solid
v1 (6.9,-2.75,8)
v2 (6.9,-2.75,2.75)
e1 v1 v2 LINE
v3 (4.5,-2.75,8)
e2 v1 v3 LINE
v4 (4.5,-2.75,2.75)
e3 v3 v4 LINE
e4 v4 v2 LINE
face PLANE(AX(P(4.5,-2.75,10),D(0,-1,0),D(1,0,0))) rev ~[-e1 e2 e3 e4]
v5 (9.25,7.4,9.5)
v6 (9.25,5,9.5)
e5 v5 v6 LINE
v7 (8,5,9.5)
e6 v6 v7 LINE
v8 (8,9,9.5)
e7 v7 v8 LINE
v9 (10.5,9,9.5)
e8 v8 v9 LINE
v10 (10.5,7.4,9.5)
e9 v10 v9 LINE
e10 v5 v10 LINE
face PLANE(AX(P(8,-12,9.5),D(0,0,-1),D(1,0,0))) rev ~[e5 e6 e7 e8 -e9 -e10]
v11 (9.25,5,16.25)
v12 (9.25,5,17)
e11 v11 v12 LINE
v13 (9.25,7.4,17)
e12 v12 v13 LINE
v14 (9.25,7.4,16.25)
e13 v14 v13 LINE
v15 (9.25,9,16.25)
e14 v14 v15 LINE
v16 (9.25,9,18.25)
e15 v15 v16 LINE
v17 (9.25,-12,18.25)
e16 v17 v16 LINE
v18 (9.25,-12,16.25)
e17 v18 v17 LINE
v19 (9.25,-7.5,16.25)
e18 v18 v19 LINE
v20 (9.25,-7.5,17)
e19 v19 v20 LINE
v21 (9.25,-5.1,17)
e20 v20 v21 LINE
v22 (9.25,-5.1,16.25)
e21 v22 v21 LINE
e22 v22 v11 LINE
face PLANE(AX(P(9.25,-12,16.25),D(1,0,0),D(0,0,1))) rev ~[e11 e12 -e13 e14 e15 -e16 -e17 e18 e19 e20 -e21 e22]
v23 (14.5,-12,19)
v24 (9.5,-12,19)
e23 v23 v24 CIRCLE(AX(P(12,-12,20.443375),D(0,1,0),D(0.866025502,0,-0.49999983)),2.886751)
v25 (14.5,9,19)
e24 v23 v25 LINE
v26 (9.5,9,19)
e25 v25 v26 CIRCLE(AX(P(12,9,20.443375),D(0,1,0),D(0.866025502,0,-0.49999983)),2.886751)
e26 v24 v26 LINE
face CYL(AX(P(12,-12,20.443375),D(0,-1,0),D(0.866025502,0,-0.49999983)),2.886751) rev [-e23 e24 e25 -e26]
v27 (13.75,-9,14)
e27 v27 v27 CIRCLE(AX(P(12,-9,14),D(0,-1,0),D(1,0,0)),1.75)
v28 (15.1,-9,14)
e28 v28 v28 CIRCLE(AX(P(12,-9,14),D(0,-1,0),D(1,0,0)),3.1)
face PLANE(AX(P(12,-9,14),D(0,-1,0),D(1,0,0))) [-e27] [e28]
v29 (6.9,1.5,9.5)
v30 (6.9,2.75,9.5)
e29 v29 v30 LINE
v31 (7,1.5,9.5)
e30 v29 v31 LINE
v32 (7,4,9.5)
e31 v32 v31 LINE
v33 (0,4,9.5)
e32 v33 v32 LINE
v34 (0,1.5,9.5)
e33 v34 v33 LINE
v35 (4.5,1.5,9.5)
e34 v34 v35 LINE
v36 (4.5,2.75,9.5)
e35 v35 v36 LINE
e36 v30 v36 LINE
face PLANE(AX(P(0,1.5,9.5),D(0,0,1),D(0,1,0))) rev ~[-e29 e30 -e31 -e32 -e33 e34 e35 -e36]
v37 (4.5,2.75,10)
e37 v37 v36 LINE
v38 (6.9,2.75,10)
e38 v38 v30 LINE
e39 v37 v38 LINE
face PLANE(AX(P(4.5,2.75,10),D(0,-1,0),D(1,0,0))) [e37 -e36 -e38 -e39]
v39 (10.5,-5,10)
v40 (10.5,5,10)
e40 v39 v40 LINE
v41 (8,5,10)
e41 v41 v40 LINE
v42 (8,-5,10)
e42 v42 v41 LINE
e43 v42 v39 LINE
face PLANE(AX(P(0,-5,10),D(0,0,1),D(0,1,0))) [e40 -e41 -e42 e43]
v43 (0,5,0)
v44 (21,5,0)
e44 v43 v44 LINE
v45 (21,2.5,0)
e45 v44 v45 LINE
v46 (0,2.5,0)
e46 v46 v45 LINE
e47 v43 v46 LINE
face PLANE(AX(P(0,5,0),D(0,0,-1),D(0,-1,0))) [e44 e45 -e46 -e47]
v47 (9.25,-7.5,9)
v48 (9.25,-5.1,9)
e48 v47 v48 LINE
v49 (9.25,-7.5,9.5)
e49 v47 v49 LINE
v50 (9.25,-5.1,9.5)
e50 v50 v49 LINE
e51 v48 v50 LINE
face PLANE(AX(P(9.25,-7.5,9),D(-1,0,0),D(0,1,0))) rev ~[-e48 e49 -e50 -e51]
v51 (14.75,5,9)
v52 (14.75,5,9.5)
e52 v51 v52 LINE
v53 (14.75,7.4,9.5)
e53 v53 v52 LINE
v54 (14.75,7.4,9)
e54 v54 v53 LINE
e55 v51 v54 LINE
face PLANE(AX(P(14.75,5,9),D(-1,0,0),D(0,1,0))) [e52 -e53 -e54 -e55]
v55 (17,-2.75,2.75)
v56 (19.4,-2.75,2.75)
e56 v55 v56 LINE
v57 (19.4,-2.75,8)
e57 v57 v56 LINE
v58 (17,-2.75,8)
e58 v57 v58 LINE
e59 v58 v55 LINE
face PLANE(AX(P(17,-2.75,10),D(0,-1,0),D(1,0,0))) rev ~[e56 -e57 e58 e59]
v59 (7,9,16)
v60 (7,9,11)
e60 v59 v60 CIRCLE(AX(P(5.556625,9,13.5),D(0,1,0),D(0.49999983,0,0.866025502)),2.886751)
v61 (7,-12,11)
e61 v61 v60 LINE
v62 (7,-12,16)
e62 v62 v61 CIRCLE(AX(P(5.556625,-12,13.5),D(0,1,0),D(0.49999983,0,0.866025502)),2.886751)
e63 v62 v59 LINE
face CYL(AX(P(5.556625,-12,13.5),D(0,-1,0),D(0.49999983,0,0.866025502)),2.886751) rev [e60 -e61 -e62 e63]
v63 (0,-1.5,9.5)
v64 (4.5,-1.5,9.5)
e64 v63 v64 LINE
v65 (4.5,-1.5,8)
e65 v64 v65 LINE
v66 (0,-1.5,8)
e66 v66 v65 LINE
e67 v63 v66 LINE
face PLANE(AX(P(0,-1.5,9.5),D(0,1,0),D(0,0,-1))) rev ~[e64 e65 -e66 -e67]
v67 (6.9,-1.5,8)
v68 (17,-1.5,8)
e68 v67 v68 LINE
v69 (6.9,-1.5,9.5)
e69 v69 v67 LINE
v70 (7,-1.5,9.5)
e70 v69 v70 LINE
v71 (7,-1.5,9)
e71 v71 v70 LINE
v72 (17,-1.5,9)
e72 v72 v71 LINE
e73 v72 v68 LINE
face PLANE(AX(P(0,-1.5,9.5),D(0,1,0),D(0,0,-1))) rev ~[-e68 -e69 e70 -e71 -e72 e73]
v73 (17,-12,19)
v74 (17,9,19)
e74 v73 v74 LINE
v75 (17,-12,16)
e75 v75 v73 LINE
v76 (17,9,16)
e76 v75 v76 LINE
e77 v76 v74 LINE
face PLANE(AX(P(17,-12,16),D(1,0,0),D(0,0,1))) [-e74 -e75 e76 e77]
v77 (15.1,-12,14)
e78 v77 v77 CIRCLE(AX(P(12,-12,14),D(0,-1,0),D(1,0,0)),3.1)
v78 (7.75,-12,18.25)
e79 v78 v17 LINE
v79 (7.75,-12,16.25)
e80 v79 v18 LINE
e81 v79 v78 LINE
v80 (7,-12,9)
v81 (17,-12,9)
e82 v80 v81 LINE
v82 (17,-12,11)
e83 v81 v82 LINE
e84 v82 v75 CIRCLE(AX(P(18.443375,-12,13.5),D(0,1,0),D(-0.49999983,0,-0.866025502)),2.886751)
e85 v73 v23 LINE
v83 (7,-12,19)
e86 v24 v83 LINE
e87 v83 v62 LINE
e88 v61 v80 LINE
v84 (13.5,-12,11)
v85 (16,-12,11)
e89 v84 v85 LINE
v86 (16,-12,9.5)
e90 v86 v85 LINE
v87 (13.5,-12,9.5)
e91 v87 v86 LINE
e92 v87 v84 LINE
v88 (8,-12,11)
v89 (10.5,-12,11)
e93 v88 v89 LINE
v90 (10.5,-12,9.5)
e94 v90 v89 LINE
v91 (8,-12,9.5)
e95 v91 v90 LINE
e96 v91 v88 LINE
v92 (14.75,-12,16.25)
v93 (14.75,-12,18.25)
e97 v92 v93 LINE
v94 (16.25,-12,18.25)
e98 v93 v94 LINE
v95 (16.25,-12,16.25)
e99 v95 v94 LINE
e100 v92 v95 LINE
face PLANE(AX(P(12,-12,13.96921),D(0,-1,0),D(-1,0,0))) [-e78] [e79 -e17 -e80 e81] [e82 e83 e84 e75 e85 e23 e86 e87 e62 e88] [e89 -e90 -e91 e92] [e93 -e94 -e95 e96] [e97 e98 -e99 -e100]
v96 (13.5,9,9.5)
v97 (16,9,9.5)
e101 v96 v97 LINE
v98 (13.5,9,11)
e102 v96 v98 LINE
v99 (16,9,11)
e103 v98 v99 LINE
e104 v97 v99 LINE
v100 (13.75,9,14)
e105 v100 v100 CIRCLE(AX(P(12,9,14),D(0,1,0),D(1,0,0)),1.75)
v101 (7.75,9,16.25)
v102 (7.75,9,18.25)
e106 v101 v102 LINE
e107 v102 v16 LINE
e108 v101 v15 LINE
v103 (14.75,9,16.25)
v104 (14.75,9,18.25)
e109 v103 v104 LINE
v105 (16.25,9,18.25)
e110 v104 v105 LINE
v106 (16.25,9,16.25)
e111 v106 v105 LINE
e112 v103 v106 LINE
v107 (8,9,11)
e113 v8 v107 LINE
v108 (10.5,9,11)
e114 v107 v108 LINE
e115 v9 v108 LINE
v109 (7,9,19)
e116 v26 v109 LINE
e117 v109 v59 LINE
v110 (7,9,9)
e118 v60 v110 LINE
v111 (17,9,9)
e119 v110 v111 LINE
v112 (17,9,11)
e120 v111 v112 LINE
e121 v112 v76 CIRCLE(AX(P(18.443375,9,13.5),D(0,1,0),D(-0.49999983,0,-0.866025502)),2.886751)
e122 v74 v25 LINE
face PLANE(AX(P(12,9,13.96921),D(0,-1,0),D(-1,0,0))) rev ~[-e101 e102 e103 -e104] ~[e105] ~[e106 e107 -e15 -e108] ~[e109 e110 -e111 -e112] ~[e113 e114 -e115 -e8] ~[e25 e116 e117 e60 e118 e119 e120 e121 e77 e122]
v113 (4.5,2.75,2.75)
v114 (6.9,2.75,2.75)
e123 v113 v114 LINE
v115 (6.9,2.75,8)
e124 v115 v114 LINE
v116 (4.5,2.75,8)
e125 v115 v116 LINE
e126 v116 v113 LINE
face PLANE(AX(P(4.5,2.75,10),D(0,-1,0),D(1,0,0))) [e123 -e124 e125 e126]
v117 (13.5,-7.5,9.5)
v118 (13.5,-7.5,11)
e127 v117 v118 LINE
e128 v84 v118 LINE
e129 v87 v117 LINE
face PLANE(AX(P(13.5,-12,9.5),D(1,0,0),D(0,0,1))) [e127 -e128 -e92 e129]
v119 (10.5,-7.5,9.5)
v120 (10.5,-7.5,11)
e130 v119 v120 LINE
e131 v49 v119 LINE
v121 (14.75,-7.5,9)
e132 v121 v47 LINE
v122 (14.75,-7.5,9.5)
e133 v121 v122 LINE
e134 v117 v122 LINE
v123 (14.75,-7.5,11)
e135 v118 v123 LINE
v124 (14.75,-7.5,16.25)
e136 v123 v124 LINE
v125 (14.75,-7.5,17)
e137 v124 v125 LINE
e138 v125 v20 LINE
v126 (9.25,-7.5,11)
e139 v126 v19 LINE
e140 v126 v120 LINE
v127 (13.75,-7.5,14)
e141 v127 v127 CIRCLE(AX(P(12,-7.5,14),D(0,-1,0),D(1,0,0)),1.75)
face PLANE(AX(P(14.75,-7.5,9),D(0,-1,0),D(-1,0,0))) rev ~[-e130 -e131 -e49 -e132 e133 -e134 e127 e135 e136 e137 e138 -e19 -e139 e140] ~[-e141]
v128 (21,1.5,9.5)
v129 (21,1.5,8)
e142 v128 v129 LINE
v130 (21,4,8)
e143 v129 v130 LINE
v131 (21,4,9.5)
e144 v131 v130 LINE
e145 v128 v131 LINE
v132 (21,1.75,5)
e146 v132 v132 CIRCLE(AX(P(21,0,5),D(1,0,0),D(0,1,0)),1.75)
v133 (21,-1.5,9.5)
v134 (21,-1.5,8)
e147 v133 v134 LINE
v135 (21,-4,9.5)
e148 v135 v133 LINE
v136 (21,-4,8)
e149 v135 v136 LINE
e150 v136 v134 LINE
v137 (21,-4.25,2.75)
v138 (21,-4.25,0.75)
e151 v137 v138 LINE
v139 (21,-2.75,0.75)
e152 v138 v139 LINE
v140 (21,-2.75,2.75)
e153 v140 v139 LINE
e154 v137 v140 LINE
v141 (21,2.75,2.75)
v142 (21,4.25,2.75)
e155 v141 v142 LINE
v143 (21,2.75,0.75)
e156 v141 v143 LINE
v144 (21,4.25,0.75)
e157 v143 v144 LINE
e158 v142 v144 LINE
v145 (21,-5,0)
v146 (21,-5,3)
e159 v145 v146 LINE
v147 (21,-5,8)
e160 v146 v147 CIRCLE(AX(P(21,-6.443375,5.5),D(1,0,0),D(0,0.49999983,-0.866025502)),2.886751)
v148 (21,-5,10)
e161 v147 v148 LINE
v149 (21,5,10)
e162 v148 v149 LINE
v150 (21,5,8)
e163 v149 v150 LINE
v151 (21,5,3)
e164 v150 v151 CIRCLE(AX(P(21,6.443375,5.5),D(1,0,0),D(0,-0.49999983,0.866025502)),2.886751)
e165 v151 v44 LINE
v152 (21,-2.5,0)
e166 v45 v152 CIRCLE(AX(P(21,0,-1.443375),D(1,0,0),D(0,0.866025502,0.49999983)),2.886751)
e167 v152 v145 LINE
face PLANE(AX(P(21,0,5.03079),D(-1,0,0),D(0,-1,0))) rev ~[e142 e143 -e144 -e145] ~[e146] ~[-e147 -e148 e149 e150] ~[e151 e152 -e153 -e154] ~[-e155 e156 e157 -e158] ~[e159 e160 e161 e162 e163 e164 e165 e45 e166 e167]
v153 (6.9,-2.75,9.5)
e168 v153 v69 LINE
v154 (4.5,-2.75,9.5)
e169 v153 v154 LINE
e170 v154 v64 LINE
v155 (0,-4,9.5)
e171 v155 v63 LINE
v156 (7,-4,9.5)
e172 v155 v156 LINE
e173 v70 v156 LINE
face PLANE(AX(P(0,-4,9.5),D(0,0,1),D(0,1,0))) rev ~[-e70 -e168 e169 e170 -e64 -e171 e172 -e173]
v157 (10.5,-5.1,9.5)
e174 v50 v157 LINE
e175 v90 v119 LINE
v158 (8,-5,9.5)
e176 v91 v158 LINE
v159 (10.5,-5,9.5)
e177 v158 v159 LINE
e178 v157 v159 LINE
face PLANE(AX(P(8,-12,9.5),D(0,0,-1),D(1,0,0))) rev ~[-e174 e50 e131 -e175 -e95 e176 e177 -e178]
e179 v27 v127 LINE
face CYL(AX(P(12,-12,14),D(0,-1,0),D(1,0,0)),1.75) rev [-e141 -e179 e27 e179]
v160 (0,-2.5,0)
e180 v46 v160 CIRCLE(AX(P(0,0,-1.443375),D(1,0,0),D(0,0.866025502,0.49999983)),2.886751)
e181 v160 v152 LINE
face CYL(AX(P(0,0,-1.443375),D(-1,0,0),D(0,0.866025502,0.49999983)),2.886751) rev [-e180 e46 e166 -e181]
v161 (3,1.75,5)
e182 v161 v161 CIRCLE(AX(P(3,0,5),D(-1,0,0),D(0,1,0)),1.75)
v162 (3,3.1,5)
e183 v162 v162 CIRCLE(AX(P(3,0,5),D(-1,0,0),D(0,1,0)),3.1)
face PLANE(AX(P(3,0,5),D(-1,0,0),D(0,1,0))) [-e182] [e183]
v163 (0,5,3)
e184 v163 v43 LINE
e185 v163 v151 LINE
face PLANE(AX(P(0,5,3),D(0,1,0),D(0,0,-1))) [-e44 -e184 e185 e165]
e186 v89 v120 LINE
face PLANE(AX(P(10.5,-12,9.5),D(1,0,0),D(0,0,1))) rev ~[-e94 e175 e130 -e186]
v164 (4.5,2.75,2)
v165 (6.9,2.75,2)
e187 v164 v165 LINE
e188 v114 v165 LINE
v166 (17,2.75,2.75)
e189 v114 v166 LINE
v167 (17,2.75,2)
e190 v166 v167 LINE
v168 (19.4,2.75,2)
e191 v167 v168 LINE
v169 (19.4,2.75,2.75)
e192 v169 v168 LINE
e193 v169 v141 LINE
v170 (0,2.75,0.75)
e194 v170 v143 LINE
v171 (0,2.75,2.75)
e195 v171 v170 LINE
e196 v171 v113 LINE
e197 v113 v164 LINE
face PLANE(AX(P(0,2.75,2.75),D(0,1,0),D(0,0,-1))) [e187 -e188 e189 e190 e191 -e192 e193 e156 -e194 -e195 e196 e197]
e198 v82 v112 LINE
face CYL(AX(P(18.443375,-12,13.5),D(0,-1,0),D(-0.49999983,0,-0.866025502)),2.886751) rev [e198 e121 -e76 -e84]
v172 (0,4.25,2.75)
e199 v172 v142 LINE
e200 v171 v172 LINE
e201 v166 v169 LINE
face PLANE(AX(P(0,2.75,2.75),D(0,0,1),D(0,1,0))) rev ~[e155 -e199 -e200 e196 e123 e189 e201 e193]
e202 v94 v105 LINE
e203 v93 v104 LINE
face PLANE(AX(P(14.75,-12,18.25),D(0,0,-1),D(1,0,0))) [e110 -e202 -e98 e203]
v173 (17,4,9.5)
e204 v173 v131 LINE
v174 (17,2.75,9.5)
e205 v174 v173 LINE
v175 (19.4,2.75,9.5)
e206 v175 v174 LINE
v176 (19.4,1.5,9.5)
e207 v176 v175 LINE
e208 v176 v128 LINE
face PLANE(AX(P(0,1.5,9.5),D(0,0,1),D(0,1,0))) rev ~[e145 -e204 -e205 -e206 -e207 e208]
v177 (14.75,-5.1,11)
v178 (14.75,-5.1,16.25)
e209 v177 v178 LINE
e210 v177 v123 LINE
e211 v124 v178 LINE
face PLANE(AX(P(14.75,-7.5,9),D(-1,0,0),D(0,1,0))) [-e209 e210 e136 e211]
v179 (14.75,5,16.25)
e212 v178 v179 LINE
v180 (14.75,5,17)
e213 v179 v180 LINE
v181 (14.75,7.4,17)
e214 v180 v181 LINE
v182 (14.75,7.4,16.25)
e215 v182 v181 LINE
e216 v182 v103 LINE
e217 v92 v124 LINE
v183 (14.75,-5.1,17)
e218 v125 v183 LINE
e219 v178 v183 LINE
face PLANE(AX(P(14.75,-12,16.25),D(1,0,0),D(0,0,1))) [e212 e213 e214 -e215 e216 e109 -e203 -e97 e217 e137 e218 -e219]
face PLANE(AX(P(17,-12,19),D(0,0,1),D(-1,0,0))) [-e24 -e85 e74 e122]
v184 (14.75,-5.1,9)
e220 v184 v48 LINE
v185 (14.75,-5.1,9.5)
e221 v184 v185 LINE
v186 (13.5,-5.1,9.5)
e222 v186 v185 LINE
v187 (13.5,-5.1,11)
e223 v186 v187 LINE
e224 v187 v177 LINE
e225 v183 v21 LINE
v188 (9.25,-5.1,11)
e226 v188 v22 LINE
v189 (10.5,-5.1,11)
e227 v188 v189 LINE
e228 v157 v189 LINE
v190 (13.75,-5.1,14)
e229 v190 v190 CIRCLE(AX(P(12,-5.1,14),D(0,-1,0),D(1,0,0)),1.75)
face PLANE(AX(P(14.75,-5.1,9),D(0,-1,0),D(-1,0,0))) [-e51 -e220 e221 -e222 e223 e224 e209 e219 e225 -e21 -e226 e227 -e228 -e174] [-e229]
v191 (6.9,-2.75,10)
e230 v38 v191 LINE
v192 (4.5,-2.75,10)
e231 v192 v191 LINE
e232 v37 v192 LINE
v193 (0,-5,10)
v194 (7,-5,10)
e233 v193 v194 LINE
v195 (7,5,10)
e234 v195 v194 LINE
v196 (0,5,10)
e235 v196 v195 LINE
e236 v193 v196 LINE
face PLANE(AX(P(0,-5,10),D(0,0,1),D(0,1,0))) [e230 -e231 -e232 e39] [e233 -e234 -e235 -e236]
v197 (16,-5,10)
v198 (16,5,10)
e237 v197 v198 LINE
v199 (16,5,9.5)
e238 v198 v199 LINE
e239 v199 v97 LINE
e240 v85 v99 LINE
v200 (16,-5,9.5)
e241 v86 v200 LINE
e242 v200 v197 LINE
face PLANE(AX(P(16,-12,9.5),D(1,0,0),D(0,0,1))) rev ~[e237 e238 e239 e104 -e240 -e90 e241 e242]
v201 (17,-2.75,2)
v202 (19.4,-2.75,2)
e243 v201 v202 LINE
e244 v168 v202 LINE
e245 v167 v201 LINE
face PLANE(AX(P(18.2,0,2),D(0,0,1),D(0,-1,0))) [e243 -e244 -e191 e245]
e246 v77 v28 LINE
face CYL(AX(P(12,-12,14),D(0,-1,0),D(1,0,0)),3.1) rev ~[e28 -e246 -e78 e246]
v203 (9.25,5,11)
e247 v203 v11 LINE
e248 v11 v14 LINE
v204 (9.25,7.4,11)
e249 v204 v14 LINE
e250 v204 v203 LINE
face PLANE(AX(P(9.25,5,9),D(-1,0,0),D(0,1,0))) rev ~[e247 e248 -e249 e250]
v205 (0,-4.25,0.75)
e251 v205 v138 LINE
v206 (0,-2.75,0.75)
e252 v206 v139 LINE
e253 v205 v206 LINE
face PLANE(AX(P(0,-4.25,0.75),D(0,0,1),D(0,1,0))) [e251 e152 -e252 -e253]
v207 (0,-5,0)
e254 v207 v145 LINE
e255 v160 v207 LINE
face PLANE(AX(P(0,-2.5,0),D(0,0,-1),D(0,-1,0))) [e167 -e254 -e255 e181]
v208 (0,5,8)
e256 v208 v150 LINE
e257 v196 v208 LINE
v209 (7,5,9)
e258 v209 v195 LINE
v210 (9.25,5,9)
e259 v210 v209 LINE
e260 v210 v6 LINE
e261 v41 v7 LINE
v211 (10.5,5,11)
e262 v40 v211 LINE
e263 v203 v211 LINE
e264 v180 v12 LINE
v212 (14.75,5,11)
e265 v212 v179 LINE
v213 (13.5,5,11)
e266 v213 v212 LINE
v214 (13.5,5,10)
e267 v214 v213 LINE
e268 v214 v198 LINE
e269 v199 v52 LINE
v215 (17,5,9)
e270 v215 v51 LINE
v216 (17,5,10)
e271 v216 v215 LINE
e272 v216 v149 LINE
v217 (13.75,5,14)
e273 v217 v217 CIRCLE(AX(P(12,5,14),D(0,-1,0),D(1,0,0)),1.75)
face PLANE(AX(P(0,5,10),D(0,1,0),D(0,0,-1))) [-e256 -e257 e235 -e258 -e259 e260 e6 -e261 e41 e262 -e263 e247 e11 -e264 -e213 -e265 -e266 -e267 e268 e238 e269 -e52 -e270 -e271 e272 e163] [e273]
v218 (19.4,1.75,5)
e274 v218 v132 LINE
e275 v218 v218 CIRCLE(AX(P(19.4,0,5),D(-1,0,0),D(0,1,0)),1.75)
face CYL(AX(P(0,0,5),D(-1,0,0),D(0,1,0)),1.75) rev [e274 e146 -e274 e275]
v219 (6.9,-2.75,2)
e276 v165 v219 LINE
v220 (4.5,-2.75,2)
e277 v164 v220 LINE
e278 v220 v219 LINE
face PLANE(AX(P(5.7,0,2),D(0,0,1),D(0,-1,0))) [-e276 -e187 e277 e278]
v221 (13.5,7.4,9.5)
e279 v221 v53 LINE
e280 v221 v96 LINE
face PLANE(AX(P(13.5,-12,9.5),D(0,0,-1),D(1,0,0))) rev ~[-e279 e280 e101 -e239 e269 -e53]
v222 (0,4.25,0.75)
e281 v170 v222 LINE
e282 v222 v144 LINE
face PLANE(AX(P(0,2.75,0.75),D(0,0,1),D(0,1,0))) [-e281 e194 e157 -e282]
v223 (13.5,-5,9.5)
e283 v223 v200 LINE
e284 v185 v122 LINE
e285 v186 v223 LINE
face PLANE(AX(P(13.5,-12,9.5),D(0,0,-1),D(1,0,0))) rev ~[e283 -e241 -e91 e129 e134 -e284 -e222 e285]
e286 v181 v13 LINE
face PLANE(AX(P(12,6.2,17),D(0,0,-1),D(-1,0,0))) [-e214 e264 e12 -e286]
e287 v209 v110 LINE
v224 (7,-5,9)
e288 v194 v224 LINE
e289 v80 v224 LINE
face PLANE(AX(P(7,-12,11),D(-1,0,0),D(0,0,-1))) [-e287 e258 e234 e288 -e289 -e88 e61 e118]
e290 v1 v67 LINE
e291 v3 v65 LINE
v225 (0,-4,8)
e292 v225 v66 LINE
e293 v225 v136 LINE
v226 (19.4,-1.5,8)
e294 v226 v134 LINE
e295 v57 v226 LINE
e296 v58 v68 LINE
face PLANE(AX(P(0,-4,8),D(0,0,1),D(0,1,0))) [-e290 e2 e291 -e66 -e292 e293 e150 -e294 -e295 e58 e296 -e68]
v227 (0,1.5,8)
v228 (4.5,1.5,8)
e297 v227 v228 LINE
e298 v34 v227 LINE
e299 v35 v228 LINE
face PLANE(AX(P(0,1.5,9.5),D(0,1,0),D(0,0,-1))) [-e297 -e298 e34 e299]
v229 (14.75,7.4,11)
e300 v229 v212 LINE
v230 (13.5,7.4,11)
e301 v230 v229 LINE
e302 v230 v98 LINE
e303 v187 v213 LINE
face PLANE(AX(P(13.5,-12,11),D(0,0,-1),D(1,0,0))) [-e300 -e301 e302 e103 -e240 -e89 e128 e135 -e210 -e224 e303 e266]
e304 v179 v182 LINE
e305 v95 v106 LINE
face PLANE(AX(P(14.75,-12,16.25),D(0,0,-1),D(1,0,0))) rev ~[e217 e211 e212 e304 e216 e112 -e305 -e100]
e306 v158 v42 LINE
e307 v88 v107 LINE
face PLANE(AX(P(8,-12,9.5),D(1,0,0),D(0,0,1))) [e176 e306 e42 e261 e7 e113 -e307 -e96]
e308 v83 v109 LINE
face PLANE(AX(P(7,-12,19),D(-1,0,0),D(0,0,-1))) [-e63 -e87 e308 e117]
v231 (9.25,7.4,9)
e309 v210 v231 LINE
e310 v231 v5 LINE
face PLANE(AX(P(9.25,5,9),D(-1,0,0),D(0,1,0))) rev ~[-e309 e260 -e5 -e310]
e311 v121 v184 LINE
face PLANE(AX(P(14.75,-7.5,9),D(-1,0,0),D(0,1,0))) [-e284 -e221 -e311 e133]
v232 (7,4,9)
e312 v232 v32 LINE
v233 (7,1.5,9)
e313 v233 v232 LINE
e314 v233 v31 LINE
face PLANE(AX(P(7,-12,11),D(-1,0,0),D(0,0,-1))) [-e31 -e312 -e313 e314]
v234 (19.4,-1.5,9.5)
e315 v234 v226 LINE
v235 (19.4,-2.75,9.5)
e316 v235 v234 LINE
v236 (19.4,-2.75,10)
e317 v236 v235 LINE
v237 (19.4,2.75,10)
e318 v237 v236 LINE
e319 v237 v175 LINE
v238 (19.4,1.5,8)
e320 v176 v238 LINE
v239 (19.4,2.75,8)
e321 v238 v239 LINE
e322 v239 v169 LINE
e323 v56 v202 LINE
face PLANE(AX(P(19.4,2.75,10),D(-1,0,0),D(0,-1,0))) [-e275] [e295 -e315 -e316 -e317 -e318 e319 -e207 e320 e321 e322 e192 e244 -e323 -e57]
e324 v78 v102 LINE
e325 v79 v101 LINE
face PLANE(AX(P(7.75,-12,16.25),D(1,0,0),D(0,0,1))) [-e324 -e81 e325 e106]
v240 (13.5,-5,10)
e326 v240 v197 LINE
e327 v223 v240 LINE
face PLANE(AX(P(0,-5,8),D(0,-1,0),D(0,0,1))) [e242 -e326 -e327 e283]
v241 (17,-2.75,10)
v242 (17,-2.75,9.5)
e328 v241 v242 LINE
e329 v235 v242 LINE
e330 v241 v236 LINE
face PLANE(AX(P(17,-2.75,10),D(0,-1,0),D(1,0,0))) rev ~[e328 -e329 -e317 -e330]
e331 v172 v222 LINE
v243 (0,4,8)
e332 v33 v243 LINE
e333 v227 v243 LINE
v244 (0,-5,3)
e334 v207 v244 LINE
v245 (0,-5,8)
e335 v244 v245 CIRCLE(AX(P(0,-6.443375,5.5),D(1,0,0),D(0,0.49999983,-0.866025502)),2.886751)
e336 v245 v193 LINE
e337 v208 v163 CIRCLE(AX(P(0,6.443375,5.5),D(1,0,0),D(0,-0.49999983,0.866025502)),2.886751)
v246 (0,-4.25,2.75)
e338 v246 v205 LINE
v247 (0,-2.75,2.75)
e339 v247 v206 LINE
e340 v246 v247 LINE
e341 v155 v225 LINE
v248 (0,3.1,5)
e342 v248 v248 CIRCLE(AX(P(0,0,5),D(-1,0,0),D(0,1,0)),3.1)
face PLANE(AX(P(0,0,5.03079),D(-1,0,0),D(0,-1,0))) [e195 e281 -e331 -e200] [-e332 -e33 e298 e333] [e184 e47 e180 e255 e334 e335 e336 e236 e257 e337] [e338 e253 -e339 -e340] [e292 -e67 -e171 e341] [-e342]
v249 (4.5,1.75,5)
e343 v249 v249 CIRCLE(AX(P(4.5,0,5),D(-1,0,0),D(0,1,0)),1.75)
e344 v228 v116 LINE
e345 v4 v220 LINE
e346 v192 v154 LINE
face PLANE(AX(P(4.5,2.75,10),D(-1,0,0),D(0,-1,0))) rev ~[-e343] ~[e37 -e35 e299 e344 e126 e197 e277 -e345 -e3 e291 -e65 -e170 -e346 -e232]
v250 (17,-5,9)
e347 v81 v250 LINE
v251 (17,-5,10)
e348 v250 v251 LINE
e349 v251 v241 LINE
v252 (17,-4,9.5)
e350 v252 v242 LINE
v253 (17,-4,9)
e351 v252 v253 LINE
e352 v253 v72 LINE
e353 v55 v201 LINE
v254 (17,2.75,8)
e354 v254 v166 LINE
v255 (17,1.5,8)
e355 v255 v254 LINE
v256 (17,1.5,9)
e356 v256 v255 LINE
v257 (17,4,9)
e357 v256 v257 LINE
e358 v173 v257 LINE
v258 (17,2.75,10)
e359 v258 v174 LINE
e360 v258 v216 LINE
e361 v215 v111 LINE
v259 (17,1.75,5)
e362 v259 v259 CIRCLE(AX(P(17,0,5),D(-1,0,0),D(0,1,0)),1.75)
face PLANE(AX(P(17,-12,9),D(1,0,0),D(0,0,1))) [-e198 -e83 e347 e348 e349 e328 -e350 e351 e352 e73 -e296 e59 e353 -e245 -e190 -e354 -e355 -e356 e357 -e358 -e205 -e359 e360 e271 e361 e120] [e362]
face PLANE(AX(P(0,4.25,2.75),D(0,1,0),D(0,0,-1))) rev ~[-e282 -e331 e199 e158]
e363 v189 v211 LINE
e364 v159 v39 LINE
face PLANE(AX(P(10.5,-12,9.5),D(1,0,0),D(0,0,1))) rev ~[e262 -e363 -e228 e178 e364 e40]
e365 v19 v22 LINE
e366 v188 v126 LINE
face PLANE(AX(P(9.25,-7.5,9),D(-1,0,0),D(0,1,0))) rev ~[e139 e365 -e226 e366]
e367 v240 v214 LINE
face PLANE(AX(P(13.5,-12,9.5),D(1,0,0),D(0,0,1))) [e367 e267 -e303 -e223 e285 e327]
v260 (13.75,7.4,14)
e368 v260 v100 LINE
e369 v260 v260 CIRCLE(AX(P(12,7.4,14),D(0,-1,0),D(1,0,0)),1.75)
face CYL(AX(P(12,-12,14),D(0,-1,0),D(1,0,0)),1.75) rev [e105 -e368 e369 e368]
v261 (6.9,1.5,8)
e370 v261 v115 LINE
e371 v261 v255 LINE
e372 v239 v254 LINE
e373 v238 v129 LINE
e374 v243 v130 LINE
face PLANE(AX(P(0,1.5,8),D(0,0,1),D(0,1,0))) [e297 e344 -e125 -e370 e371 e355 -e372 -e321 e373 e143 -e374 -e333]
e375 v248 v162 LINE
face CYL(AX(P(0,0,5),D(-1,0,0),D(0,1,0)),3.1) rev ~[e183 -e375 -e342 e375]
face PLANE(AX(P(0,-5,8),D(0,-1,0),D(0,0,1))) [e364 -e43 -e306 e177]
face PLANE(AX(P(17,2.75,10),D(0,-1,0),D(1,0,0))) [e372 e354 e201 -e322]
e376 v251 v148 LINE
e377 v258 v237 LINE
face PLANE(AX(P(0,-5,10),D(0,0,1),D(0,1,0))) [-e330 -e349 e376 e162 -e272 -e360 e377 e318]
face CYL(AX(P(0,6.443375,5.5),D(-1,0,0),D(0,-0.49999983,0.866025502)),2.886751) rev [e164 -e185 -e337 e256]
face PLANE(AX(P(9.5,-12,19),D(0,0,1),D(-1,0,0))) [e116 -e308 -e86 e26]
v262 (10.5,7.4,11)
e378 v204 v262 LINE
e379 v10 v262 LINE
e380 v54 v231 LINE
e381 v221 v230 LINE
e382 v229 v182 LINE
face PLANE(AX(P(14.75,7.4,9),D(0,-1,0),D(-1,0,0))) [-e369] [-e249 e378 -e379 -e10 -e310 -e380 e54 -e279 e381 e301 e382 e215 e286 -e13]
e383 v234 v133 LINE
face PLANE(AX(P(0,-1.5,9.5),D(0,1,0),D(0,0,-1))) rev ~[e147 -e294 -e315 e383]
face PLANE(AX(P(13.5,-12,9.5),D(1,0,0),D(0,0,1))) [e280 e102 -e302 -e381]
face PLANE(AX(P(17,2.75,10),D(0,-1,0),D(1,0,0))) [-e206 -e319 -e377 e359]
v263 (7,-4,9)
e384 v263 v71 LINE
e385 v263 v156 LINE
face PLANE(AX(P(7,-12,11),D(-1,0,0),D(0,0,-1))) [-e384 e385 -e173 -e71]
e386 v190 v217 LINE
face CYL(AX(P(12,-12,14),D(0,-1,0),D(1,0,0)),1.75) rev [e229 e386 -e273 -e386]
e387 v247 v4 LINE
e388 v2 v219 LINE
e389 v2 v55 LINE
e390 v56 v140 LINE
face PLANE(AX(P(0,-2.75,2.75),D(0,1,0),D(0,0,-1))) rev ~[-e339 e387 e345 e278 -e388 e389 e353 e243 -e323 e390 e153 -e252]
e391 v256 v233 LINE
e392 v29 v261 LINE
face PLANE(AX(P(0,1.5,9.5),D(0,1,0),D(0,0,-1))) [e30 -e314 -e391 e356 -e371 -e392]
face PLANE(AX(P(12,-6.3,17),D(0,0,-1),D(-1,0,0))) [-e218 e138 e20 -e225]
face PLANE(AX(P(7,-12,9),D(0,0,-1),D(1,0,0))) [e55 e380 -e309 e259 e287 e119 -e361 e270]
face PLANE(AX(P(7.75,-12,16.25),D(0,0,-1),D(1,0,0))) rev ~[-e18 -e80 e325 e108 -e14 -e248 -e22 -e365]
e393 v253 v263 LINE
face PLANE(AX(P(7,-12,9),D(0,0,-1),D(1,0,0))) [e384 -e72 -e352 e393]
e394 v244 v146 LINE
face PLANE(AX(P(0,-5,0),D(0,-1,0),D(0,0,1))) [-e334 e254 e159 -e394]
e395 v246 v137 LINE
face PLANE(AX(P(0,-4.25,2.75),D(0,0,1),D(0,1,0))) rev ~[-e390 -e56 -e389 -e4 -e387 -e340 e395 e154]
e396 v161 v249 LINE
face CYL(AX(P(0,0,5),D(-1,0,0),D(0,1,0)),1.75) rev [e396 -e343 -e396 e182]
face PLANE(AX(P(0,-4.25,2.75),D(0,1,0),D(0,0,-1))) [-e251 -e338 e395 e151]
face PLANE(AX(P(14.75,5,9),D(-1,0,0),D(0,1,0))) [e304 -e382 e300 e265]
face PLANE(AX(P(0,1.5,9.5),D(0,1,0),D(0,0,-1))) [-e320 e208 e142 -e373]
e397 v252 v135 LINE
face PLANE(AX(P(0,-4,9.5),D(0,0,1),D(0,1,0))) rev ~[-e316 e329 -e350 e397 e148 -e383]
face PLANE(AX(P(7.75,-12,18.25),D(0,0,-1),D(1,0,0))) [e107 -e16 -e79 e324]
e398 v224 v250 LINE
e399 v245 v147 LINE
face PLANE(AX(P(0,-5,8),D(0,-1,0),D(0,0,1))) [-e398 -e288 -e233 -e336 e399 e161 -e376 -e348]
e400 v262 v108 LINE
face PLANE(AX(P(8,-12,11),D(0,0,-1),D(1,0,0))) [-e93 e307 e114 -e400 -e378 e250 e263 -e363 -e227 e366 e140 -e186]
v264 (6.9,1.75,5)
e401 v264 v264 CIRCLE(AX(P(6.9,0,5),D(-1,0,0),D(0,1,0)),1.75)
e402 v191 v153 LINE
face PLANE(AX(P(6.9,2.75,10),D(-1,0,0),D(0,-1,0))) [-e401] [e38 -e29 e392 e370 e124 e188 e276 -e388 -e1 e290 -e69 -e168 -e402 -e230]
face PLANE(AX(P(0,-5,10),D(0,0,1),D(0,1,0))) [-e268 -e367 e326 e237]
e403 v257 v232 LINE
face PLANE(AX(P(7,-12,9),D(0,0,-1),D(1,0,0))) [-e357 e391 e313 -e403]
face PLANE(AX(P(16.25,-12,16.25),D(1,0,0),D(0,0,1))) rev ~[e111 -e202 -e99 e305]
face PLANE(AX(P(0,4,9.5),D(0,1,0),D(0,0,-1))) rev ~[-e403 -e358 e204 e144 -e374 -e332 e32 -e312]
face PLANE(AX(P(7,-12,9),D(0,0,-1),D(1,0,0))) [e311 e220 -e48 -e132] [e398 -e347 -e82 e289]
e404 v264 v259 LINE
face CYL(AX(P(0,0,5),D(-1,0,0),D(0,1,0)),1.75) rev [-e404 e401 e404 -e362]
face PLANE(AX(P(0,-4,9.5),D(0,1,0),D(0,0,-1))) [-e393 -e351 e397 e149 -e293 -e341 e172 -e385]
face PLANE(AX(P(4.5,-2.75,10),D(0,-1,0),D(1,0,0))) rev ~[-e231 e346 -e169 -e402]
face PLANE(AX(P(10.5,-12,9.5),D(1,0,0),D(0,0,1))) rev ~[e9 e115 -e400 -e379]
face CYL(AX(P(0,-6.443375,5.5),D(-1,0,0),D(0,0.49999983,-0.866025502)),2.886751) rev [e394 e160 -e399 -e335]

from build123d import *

# Parameters (mm, degrees)
SKETCH008_R             = 1.75
PAD001_DEPTH            = 21
SKETCH009_W             = 5.5
SKETCH009_H             = 2.4
POCKET003_DEPTH         = 8
SKETCH010_R             = 3.1
POCKET004_DEPTH         = 3
SKETCH014_W             = 1.5
SKETCH014_H             = 2
SKETCH014_W_2           = 2.5
SKETCH014_H_2           = 1.5
POCKET005_DEPTH         = 21.001
BODY002_ROLL_ANGLE      = 180
BODY002_PLACEMENT_ANGLE = 90
SKETCH_R                = 1.75
PAD_DEPTH               = 21
SKETCH002_W             = 5.5
SKETCH002_H             = 2.4
POCKET_DEPTH            = 8
SKETCH003_R             = 3.1
POCKET001_DEPTH         = 3
SKETCH007_W             = 1.5
SKETCH007_H             = 2
SKETCH007_W_2           = 2.5
SKETCH007_H_2           = 1.5
POCKET002_DEPTH         = 21.001


with BuildPart() as body002:
    # Sketch008 → Pad001 (new body)
    with BuildSketch(Plane.YZ):
        with BuildLine():
            Line((-5, 8), (-5, 10))
            Line((-5, 10), (5, 10))
            Line((5, 10), (5, 8))
            ThreePointArc((5, 8), (3.556624, 5.5), (5, 3))
            Line((5, 3), (5, 0))
            Line((5, 0), (2.5, 0))
            ThreePointArc((2.5, 0), (0, 1.443376), (-2.5, 0))
            Line((-2.5, 0), (-5, 0))
            Line((-5, 0), (-5, 3))
            ThreePointArc((-5, 3), (-3.556624, 5.5), (-5, 8))
        make_face()
        with Locations((0, 5)):
            Circle(SKETCH008_R, mode=Mode.SUBTRACT)
    extrude(amount=PAD001_DEPTH)

    # Sketch009 → Pocket003 (cut)
    with BuildSketch(Plane(origin=(0, 0, 10), x_dir=(0, -1, 0), z_dir=(0, 0, 1))):
        with Locations((0, 5.7)):
            Rectangle(SKETCH009_W, SKETCH009_H)
        with Locations((0, 18.2)):
            Rectangle(SKETCH009_W, SKETCH009_H)
    extrude(amount=-POCKET003_DEPTH, mode=Mode.SUBTRACT)

    # Sketch010 (on Face4 of Pocket003) → Pocket004 (cut)
    with BuildSketch(Plane(origin=(0, 0, 0), x_dir=(0, 1, 0), z_dir=(-1, 0, 0))):
        with Locations((0, -5)):
            Circle(SKETCH010_R)
    extrude(amount=-POCKET004_DEPTH, mode=Mode.SUBTRACT)

    # Sketch014 (on Face4 of Pocket004) → Pocket005 (cut, through all)
    with BuildSketch(Plane(origin=(0, 0, 0), x_dir=(0, 1, 0), z_dir=(-1, 0, 0))):
        with Locations((-3.5, -1.75)):
            Rectangle(SKETCH014_W, SKETCH014_H)
        with Locations((3.5, -1.75)):
            Rectangle(SKETCH014_W, SKETCH014_H)
        with Locations((-2.75, -8.75)):
            Rectangle(SKETCH014_W_2, SKETCH014_H_2)
        with Locations((2.75, -8.75)):
            Rectangle(SKETCH014_W_2, SKETCH014_H_2)
    extrude(amount=-POCKET005_DEPTH, mode=Mode.SUBTRACT)


with BuildPart() as body002_1:
    # Body002 roll: moved
    add(body002.part.rotate(Axis((0, 0, 0), (1, 0, 0)), BODY002_ROLL_ANGLE))


with BuildPart() as body002_2:
    # Body002 placement: moved
    add(body002_1.part.moved(Location((12, -12, 19))).rotate(Axis((12, -12, 19), (0, 0, 1)), BODY002_PLACEMENT_ANGLE))


with BuildPart() as fusion:
    # Sketch → Pad (new body)
    with BuildSketch(Plane.YZ):
        with BuildLine():
            Line((-5, 8), (-5, 10))
            Line((-5, 10), (5, 10))
            Line((5, 10), (5, 8))
            ThreePointArc((5, 8), (3.556624, 5.5), (5, 3))
            Line((5, 3), (5, 0))
            Line((5, 0), (2.5, 0))
            ThreePointArc((2.5, 0), (0, 1.443376), (-2.5, 0))
            Line((-2.5, 0), (-5, 0))
            Line((-5, 0), (-5, 3))
            ThreePointArc((-5, 3), (-3.556624, 5.5), (-5, 8))
        make_face()
        with Locations((0, 5)):
            Circle(SKETCH_R, mode=Mode.SUBTRACT)
    extrude(amount=PAD_DEPTH)

    # Sketch002 → Pocket (cut)
    with BuildSketch(Plane(origin=(0, 0, 10), x_dir=(0, -1, 0), z_dir=(0, 0, 1))):
        with Locations((0, 5.7)):
            Rectangle(SKETCH002_W, SKETCH002_H)
        with Locations((0, 18.2)):
            Rectangle(SKETCH002_W, SKETCH002_H)
    extrude(amount=-POCKET_DEPTH, mode=Mode.SUBTRACT)

    # Sketch003 (on Face4 of Pocket) → Pocket001 (cut)
    with BuildSketch(Plane(origin=(0, 0, 0), x_dir=(0, 1, 0), z_dir=(-1, 0, 0))):
        with Locations((0, -5)):
            Circle(SKETCH003_R)
    extrude(amount=-POCKET001_DEPTH, mode=Mode.SUBTRACT)

    # Sketch007 (on Face4 of Pocket001) → Pocket002 (cut, through all)
    with BuildSketch(Plane(origin=(0, 0, 0), x_dir=(0, 1, 0), z_dir=(-1, 0, 0))):
        with Locations((-3.5, -1.75)):
            Rectangle(SKETCH007_W, SKETCH007_H)
        with Locations((3.5, -1.75)):
            Rectangle(SKETCH007_W, SKETCH007_H)
        with Locations((-2.75, -8.75)):
            Rectangle(SKETCH007_W_2, SKETCH007_H_2)
        with Locations((2.75, -8.75)):
            Rectangle(SKETCH007_W_2, SKETCH007_H_2)
    extrude(amount=-POCKET002_DEPTH, mode=Mode.SUBTRACT)

    # Fusion: union Body002
    add(body002_2.part)


solid = fusion.part
